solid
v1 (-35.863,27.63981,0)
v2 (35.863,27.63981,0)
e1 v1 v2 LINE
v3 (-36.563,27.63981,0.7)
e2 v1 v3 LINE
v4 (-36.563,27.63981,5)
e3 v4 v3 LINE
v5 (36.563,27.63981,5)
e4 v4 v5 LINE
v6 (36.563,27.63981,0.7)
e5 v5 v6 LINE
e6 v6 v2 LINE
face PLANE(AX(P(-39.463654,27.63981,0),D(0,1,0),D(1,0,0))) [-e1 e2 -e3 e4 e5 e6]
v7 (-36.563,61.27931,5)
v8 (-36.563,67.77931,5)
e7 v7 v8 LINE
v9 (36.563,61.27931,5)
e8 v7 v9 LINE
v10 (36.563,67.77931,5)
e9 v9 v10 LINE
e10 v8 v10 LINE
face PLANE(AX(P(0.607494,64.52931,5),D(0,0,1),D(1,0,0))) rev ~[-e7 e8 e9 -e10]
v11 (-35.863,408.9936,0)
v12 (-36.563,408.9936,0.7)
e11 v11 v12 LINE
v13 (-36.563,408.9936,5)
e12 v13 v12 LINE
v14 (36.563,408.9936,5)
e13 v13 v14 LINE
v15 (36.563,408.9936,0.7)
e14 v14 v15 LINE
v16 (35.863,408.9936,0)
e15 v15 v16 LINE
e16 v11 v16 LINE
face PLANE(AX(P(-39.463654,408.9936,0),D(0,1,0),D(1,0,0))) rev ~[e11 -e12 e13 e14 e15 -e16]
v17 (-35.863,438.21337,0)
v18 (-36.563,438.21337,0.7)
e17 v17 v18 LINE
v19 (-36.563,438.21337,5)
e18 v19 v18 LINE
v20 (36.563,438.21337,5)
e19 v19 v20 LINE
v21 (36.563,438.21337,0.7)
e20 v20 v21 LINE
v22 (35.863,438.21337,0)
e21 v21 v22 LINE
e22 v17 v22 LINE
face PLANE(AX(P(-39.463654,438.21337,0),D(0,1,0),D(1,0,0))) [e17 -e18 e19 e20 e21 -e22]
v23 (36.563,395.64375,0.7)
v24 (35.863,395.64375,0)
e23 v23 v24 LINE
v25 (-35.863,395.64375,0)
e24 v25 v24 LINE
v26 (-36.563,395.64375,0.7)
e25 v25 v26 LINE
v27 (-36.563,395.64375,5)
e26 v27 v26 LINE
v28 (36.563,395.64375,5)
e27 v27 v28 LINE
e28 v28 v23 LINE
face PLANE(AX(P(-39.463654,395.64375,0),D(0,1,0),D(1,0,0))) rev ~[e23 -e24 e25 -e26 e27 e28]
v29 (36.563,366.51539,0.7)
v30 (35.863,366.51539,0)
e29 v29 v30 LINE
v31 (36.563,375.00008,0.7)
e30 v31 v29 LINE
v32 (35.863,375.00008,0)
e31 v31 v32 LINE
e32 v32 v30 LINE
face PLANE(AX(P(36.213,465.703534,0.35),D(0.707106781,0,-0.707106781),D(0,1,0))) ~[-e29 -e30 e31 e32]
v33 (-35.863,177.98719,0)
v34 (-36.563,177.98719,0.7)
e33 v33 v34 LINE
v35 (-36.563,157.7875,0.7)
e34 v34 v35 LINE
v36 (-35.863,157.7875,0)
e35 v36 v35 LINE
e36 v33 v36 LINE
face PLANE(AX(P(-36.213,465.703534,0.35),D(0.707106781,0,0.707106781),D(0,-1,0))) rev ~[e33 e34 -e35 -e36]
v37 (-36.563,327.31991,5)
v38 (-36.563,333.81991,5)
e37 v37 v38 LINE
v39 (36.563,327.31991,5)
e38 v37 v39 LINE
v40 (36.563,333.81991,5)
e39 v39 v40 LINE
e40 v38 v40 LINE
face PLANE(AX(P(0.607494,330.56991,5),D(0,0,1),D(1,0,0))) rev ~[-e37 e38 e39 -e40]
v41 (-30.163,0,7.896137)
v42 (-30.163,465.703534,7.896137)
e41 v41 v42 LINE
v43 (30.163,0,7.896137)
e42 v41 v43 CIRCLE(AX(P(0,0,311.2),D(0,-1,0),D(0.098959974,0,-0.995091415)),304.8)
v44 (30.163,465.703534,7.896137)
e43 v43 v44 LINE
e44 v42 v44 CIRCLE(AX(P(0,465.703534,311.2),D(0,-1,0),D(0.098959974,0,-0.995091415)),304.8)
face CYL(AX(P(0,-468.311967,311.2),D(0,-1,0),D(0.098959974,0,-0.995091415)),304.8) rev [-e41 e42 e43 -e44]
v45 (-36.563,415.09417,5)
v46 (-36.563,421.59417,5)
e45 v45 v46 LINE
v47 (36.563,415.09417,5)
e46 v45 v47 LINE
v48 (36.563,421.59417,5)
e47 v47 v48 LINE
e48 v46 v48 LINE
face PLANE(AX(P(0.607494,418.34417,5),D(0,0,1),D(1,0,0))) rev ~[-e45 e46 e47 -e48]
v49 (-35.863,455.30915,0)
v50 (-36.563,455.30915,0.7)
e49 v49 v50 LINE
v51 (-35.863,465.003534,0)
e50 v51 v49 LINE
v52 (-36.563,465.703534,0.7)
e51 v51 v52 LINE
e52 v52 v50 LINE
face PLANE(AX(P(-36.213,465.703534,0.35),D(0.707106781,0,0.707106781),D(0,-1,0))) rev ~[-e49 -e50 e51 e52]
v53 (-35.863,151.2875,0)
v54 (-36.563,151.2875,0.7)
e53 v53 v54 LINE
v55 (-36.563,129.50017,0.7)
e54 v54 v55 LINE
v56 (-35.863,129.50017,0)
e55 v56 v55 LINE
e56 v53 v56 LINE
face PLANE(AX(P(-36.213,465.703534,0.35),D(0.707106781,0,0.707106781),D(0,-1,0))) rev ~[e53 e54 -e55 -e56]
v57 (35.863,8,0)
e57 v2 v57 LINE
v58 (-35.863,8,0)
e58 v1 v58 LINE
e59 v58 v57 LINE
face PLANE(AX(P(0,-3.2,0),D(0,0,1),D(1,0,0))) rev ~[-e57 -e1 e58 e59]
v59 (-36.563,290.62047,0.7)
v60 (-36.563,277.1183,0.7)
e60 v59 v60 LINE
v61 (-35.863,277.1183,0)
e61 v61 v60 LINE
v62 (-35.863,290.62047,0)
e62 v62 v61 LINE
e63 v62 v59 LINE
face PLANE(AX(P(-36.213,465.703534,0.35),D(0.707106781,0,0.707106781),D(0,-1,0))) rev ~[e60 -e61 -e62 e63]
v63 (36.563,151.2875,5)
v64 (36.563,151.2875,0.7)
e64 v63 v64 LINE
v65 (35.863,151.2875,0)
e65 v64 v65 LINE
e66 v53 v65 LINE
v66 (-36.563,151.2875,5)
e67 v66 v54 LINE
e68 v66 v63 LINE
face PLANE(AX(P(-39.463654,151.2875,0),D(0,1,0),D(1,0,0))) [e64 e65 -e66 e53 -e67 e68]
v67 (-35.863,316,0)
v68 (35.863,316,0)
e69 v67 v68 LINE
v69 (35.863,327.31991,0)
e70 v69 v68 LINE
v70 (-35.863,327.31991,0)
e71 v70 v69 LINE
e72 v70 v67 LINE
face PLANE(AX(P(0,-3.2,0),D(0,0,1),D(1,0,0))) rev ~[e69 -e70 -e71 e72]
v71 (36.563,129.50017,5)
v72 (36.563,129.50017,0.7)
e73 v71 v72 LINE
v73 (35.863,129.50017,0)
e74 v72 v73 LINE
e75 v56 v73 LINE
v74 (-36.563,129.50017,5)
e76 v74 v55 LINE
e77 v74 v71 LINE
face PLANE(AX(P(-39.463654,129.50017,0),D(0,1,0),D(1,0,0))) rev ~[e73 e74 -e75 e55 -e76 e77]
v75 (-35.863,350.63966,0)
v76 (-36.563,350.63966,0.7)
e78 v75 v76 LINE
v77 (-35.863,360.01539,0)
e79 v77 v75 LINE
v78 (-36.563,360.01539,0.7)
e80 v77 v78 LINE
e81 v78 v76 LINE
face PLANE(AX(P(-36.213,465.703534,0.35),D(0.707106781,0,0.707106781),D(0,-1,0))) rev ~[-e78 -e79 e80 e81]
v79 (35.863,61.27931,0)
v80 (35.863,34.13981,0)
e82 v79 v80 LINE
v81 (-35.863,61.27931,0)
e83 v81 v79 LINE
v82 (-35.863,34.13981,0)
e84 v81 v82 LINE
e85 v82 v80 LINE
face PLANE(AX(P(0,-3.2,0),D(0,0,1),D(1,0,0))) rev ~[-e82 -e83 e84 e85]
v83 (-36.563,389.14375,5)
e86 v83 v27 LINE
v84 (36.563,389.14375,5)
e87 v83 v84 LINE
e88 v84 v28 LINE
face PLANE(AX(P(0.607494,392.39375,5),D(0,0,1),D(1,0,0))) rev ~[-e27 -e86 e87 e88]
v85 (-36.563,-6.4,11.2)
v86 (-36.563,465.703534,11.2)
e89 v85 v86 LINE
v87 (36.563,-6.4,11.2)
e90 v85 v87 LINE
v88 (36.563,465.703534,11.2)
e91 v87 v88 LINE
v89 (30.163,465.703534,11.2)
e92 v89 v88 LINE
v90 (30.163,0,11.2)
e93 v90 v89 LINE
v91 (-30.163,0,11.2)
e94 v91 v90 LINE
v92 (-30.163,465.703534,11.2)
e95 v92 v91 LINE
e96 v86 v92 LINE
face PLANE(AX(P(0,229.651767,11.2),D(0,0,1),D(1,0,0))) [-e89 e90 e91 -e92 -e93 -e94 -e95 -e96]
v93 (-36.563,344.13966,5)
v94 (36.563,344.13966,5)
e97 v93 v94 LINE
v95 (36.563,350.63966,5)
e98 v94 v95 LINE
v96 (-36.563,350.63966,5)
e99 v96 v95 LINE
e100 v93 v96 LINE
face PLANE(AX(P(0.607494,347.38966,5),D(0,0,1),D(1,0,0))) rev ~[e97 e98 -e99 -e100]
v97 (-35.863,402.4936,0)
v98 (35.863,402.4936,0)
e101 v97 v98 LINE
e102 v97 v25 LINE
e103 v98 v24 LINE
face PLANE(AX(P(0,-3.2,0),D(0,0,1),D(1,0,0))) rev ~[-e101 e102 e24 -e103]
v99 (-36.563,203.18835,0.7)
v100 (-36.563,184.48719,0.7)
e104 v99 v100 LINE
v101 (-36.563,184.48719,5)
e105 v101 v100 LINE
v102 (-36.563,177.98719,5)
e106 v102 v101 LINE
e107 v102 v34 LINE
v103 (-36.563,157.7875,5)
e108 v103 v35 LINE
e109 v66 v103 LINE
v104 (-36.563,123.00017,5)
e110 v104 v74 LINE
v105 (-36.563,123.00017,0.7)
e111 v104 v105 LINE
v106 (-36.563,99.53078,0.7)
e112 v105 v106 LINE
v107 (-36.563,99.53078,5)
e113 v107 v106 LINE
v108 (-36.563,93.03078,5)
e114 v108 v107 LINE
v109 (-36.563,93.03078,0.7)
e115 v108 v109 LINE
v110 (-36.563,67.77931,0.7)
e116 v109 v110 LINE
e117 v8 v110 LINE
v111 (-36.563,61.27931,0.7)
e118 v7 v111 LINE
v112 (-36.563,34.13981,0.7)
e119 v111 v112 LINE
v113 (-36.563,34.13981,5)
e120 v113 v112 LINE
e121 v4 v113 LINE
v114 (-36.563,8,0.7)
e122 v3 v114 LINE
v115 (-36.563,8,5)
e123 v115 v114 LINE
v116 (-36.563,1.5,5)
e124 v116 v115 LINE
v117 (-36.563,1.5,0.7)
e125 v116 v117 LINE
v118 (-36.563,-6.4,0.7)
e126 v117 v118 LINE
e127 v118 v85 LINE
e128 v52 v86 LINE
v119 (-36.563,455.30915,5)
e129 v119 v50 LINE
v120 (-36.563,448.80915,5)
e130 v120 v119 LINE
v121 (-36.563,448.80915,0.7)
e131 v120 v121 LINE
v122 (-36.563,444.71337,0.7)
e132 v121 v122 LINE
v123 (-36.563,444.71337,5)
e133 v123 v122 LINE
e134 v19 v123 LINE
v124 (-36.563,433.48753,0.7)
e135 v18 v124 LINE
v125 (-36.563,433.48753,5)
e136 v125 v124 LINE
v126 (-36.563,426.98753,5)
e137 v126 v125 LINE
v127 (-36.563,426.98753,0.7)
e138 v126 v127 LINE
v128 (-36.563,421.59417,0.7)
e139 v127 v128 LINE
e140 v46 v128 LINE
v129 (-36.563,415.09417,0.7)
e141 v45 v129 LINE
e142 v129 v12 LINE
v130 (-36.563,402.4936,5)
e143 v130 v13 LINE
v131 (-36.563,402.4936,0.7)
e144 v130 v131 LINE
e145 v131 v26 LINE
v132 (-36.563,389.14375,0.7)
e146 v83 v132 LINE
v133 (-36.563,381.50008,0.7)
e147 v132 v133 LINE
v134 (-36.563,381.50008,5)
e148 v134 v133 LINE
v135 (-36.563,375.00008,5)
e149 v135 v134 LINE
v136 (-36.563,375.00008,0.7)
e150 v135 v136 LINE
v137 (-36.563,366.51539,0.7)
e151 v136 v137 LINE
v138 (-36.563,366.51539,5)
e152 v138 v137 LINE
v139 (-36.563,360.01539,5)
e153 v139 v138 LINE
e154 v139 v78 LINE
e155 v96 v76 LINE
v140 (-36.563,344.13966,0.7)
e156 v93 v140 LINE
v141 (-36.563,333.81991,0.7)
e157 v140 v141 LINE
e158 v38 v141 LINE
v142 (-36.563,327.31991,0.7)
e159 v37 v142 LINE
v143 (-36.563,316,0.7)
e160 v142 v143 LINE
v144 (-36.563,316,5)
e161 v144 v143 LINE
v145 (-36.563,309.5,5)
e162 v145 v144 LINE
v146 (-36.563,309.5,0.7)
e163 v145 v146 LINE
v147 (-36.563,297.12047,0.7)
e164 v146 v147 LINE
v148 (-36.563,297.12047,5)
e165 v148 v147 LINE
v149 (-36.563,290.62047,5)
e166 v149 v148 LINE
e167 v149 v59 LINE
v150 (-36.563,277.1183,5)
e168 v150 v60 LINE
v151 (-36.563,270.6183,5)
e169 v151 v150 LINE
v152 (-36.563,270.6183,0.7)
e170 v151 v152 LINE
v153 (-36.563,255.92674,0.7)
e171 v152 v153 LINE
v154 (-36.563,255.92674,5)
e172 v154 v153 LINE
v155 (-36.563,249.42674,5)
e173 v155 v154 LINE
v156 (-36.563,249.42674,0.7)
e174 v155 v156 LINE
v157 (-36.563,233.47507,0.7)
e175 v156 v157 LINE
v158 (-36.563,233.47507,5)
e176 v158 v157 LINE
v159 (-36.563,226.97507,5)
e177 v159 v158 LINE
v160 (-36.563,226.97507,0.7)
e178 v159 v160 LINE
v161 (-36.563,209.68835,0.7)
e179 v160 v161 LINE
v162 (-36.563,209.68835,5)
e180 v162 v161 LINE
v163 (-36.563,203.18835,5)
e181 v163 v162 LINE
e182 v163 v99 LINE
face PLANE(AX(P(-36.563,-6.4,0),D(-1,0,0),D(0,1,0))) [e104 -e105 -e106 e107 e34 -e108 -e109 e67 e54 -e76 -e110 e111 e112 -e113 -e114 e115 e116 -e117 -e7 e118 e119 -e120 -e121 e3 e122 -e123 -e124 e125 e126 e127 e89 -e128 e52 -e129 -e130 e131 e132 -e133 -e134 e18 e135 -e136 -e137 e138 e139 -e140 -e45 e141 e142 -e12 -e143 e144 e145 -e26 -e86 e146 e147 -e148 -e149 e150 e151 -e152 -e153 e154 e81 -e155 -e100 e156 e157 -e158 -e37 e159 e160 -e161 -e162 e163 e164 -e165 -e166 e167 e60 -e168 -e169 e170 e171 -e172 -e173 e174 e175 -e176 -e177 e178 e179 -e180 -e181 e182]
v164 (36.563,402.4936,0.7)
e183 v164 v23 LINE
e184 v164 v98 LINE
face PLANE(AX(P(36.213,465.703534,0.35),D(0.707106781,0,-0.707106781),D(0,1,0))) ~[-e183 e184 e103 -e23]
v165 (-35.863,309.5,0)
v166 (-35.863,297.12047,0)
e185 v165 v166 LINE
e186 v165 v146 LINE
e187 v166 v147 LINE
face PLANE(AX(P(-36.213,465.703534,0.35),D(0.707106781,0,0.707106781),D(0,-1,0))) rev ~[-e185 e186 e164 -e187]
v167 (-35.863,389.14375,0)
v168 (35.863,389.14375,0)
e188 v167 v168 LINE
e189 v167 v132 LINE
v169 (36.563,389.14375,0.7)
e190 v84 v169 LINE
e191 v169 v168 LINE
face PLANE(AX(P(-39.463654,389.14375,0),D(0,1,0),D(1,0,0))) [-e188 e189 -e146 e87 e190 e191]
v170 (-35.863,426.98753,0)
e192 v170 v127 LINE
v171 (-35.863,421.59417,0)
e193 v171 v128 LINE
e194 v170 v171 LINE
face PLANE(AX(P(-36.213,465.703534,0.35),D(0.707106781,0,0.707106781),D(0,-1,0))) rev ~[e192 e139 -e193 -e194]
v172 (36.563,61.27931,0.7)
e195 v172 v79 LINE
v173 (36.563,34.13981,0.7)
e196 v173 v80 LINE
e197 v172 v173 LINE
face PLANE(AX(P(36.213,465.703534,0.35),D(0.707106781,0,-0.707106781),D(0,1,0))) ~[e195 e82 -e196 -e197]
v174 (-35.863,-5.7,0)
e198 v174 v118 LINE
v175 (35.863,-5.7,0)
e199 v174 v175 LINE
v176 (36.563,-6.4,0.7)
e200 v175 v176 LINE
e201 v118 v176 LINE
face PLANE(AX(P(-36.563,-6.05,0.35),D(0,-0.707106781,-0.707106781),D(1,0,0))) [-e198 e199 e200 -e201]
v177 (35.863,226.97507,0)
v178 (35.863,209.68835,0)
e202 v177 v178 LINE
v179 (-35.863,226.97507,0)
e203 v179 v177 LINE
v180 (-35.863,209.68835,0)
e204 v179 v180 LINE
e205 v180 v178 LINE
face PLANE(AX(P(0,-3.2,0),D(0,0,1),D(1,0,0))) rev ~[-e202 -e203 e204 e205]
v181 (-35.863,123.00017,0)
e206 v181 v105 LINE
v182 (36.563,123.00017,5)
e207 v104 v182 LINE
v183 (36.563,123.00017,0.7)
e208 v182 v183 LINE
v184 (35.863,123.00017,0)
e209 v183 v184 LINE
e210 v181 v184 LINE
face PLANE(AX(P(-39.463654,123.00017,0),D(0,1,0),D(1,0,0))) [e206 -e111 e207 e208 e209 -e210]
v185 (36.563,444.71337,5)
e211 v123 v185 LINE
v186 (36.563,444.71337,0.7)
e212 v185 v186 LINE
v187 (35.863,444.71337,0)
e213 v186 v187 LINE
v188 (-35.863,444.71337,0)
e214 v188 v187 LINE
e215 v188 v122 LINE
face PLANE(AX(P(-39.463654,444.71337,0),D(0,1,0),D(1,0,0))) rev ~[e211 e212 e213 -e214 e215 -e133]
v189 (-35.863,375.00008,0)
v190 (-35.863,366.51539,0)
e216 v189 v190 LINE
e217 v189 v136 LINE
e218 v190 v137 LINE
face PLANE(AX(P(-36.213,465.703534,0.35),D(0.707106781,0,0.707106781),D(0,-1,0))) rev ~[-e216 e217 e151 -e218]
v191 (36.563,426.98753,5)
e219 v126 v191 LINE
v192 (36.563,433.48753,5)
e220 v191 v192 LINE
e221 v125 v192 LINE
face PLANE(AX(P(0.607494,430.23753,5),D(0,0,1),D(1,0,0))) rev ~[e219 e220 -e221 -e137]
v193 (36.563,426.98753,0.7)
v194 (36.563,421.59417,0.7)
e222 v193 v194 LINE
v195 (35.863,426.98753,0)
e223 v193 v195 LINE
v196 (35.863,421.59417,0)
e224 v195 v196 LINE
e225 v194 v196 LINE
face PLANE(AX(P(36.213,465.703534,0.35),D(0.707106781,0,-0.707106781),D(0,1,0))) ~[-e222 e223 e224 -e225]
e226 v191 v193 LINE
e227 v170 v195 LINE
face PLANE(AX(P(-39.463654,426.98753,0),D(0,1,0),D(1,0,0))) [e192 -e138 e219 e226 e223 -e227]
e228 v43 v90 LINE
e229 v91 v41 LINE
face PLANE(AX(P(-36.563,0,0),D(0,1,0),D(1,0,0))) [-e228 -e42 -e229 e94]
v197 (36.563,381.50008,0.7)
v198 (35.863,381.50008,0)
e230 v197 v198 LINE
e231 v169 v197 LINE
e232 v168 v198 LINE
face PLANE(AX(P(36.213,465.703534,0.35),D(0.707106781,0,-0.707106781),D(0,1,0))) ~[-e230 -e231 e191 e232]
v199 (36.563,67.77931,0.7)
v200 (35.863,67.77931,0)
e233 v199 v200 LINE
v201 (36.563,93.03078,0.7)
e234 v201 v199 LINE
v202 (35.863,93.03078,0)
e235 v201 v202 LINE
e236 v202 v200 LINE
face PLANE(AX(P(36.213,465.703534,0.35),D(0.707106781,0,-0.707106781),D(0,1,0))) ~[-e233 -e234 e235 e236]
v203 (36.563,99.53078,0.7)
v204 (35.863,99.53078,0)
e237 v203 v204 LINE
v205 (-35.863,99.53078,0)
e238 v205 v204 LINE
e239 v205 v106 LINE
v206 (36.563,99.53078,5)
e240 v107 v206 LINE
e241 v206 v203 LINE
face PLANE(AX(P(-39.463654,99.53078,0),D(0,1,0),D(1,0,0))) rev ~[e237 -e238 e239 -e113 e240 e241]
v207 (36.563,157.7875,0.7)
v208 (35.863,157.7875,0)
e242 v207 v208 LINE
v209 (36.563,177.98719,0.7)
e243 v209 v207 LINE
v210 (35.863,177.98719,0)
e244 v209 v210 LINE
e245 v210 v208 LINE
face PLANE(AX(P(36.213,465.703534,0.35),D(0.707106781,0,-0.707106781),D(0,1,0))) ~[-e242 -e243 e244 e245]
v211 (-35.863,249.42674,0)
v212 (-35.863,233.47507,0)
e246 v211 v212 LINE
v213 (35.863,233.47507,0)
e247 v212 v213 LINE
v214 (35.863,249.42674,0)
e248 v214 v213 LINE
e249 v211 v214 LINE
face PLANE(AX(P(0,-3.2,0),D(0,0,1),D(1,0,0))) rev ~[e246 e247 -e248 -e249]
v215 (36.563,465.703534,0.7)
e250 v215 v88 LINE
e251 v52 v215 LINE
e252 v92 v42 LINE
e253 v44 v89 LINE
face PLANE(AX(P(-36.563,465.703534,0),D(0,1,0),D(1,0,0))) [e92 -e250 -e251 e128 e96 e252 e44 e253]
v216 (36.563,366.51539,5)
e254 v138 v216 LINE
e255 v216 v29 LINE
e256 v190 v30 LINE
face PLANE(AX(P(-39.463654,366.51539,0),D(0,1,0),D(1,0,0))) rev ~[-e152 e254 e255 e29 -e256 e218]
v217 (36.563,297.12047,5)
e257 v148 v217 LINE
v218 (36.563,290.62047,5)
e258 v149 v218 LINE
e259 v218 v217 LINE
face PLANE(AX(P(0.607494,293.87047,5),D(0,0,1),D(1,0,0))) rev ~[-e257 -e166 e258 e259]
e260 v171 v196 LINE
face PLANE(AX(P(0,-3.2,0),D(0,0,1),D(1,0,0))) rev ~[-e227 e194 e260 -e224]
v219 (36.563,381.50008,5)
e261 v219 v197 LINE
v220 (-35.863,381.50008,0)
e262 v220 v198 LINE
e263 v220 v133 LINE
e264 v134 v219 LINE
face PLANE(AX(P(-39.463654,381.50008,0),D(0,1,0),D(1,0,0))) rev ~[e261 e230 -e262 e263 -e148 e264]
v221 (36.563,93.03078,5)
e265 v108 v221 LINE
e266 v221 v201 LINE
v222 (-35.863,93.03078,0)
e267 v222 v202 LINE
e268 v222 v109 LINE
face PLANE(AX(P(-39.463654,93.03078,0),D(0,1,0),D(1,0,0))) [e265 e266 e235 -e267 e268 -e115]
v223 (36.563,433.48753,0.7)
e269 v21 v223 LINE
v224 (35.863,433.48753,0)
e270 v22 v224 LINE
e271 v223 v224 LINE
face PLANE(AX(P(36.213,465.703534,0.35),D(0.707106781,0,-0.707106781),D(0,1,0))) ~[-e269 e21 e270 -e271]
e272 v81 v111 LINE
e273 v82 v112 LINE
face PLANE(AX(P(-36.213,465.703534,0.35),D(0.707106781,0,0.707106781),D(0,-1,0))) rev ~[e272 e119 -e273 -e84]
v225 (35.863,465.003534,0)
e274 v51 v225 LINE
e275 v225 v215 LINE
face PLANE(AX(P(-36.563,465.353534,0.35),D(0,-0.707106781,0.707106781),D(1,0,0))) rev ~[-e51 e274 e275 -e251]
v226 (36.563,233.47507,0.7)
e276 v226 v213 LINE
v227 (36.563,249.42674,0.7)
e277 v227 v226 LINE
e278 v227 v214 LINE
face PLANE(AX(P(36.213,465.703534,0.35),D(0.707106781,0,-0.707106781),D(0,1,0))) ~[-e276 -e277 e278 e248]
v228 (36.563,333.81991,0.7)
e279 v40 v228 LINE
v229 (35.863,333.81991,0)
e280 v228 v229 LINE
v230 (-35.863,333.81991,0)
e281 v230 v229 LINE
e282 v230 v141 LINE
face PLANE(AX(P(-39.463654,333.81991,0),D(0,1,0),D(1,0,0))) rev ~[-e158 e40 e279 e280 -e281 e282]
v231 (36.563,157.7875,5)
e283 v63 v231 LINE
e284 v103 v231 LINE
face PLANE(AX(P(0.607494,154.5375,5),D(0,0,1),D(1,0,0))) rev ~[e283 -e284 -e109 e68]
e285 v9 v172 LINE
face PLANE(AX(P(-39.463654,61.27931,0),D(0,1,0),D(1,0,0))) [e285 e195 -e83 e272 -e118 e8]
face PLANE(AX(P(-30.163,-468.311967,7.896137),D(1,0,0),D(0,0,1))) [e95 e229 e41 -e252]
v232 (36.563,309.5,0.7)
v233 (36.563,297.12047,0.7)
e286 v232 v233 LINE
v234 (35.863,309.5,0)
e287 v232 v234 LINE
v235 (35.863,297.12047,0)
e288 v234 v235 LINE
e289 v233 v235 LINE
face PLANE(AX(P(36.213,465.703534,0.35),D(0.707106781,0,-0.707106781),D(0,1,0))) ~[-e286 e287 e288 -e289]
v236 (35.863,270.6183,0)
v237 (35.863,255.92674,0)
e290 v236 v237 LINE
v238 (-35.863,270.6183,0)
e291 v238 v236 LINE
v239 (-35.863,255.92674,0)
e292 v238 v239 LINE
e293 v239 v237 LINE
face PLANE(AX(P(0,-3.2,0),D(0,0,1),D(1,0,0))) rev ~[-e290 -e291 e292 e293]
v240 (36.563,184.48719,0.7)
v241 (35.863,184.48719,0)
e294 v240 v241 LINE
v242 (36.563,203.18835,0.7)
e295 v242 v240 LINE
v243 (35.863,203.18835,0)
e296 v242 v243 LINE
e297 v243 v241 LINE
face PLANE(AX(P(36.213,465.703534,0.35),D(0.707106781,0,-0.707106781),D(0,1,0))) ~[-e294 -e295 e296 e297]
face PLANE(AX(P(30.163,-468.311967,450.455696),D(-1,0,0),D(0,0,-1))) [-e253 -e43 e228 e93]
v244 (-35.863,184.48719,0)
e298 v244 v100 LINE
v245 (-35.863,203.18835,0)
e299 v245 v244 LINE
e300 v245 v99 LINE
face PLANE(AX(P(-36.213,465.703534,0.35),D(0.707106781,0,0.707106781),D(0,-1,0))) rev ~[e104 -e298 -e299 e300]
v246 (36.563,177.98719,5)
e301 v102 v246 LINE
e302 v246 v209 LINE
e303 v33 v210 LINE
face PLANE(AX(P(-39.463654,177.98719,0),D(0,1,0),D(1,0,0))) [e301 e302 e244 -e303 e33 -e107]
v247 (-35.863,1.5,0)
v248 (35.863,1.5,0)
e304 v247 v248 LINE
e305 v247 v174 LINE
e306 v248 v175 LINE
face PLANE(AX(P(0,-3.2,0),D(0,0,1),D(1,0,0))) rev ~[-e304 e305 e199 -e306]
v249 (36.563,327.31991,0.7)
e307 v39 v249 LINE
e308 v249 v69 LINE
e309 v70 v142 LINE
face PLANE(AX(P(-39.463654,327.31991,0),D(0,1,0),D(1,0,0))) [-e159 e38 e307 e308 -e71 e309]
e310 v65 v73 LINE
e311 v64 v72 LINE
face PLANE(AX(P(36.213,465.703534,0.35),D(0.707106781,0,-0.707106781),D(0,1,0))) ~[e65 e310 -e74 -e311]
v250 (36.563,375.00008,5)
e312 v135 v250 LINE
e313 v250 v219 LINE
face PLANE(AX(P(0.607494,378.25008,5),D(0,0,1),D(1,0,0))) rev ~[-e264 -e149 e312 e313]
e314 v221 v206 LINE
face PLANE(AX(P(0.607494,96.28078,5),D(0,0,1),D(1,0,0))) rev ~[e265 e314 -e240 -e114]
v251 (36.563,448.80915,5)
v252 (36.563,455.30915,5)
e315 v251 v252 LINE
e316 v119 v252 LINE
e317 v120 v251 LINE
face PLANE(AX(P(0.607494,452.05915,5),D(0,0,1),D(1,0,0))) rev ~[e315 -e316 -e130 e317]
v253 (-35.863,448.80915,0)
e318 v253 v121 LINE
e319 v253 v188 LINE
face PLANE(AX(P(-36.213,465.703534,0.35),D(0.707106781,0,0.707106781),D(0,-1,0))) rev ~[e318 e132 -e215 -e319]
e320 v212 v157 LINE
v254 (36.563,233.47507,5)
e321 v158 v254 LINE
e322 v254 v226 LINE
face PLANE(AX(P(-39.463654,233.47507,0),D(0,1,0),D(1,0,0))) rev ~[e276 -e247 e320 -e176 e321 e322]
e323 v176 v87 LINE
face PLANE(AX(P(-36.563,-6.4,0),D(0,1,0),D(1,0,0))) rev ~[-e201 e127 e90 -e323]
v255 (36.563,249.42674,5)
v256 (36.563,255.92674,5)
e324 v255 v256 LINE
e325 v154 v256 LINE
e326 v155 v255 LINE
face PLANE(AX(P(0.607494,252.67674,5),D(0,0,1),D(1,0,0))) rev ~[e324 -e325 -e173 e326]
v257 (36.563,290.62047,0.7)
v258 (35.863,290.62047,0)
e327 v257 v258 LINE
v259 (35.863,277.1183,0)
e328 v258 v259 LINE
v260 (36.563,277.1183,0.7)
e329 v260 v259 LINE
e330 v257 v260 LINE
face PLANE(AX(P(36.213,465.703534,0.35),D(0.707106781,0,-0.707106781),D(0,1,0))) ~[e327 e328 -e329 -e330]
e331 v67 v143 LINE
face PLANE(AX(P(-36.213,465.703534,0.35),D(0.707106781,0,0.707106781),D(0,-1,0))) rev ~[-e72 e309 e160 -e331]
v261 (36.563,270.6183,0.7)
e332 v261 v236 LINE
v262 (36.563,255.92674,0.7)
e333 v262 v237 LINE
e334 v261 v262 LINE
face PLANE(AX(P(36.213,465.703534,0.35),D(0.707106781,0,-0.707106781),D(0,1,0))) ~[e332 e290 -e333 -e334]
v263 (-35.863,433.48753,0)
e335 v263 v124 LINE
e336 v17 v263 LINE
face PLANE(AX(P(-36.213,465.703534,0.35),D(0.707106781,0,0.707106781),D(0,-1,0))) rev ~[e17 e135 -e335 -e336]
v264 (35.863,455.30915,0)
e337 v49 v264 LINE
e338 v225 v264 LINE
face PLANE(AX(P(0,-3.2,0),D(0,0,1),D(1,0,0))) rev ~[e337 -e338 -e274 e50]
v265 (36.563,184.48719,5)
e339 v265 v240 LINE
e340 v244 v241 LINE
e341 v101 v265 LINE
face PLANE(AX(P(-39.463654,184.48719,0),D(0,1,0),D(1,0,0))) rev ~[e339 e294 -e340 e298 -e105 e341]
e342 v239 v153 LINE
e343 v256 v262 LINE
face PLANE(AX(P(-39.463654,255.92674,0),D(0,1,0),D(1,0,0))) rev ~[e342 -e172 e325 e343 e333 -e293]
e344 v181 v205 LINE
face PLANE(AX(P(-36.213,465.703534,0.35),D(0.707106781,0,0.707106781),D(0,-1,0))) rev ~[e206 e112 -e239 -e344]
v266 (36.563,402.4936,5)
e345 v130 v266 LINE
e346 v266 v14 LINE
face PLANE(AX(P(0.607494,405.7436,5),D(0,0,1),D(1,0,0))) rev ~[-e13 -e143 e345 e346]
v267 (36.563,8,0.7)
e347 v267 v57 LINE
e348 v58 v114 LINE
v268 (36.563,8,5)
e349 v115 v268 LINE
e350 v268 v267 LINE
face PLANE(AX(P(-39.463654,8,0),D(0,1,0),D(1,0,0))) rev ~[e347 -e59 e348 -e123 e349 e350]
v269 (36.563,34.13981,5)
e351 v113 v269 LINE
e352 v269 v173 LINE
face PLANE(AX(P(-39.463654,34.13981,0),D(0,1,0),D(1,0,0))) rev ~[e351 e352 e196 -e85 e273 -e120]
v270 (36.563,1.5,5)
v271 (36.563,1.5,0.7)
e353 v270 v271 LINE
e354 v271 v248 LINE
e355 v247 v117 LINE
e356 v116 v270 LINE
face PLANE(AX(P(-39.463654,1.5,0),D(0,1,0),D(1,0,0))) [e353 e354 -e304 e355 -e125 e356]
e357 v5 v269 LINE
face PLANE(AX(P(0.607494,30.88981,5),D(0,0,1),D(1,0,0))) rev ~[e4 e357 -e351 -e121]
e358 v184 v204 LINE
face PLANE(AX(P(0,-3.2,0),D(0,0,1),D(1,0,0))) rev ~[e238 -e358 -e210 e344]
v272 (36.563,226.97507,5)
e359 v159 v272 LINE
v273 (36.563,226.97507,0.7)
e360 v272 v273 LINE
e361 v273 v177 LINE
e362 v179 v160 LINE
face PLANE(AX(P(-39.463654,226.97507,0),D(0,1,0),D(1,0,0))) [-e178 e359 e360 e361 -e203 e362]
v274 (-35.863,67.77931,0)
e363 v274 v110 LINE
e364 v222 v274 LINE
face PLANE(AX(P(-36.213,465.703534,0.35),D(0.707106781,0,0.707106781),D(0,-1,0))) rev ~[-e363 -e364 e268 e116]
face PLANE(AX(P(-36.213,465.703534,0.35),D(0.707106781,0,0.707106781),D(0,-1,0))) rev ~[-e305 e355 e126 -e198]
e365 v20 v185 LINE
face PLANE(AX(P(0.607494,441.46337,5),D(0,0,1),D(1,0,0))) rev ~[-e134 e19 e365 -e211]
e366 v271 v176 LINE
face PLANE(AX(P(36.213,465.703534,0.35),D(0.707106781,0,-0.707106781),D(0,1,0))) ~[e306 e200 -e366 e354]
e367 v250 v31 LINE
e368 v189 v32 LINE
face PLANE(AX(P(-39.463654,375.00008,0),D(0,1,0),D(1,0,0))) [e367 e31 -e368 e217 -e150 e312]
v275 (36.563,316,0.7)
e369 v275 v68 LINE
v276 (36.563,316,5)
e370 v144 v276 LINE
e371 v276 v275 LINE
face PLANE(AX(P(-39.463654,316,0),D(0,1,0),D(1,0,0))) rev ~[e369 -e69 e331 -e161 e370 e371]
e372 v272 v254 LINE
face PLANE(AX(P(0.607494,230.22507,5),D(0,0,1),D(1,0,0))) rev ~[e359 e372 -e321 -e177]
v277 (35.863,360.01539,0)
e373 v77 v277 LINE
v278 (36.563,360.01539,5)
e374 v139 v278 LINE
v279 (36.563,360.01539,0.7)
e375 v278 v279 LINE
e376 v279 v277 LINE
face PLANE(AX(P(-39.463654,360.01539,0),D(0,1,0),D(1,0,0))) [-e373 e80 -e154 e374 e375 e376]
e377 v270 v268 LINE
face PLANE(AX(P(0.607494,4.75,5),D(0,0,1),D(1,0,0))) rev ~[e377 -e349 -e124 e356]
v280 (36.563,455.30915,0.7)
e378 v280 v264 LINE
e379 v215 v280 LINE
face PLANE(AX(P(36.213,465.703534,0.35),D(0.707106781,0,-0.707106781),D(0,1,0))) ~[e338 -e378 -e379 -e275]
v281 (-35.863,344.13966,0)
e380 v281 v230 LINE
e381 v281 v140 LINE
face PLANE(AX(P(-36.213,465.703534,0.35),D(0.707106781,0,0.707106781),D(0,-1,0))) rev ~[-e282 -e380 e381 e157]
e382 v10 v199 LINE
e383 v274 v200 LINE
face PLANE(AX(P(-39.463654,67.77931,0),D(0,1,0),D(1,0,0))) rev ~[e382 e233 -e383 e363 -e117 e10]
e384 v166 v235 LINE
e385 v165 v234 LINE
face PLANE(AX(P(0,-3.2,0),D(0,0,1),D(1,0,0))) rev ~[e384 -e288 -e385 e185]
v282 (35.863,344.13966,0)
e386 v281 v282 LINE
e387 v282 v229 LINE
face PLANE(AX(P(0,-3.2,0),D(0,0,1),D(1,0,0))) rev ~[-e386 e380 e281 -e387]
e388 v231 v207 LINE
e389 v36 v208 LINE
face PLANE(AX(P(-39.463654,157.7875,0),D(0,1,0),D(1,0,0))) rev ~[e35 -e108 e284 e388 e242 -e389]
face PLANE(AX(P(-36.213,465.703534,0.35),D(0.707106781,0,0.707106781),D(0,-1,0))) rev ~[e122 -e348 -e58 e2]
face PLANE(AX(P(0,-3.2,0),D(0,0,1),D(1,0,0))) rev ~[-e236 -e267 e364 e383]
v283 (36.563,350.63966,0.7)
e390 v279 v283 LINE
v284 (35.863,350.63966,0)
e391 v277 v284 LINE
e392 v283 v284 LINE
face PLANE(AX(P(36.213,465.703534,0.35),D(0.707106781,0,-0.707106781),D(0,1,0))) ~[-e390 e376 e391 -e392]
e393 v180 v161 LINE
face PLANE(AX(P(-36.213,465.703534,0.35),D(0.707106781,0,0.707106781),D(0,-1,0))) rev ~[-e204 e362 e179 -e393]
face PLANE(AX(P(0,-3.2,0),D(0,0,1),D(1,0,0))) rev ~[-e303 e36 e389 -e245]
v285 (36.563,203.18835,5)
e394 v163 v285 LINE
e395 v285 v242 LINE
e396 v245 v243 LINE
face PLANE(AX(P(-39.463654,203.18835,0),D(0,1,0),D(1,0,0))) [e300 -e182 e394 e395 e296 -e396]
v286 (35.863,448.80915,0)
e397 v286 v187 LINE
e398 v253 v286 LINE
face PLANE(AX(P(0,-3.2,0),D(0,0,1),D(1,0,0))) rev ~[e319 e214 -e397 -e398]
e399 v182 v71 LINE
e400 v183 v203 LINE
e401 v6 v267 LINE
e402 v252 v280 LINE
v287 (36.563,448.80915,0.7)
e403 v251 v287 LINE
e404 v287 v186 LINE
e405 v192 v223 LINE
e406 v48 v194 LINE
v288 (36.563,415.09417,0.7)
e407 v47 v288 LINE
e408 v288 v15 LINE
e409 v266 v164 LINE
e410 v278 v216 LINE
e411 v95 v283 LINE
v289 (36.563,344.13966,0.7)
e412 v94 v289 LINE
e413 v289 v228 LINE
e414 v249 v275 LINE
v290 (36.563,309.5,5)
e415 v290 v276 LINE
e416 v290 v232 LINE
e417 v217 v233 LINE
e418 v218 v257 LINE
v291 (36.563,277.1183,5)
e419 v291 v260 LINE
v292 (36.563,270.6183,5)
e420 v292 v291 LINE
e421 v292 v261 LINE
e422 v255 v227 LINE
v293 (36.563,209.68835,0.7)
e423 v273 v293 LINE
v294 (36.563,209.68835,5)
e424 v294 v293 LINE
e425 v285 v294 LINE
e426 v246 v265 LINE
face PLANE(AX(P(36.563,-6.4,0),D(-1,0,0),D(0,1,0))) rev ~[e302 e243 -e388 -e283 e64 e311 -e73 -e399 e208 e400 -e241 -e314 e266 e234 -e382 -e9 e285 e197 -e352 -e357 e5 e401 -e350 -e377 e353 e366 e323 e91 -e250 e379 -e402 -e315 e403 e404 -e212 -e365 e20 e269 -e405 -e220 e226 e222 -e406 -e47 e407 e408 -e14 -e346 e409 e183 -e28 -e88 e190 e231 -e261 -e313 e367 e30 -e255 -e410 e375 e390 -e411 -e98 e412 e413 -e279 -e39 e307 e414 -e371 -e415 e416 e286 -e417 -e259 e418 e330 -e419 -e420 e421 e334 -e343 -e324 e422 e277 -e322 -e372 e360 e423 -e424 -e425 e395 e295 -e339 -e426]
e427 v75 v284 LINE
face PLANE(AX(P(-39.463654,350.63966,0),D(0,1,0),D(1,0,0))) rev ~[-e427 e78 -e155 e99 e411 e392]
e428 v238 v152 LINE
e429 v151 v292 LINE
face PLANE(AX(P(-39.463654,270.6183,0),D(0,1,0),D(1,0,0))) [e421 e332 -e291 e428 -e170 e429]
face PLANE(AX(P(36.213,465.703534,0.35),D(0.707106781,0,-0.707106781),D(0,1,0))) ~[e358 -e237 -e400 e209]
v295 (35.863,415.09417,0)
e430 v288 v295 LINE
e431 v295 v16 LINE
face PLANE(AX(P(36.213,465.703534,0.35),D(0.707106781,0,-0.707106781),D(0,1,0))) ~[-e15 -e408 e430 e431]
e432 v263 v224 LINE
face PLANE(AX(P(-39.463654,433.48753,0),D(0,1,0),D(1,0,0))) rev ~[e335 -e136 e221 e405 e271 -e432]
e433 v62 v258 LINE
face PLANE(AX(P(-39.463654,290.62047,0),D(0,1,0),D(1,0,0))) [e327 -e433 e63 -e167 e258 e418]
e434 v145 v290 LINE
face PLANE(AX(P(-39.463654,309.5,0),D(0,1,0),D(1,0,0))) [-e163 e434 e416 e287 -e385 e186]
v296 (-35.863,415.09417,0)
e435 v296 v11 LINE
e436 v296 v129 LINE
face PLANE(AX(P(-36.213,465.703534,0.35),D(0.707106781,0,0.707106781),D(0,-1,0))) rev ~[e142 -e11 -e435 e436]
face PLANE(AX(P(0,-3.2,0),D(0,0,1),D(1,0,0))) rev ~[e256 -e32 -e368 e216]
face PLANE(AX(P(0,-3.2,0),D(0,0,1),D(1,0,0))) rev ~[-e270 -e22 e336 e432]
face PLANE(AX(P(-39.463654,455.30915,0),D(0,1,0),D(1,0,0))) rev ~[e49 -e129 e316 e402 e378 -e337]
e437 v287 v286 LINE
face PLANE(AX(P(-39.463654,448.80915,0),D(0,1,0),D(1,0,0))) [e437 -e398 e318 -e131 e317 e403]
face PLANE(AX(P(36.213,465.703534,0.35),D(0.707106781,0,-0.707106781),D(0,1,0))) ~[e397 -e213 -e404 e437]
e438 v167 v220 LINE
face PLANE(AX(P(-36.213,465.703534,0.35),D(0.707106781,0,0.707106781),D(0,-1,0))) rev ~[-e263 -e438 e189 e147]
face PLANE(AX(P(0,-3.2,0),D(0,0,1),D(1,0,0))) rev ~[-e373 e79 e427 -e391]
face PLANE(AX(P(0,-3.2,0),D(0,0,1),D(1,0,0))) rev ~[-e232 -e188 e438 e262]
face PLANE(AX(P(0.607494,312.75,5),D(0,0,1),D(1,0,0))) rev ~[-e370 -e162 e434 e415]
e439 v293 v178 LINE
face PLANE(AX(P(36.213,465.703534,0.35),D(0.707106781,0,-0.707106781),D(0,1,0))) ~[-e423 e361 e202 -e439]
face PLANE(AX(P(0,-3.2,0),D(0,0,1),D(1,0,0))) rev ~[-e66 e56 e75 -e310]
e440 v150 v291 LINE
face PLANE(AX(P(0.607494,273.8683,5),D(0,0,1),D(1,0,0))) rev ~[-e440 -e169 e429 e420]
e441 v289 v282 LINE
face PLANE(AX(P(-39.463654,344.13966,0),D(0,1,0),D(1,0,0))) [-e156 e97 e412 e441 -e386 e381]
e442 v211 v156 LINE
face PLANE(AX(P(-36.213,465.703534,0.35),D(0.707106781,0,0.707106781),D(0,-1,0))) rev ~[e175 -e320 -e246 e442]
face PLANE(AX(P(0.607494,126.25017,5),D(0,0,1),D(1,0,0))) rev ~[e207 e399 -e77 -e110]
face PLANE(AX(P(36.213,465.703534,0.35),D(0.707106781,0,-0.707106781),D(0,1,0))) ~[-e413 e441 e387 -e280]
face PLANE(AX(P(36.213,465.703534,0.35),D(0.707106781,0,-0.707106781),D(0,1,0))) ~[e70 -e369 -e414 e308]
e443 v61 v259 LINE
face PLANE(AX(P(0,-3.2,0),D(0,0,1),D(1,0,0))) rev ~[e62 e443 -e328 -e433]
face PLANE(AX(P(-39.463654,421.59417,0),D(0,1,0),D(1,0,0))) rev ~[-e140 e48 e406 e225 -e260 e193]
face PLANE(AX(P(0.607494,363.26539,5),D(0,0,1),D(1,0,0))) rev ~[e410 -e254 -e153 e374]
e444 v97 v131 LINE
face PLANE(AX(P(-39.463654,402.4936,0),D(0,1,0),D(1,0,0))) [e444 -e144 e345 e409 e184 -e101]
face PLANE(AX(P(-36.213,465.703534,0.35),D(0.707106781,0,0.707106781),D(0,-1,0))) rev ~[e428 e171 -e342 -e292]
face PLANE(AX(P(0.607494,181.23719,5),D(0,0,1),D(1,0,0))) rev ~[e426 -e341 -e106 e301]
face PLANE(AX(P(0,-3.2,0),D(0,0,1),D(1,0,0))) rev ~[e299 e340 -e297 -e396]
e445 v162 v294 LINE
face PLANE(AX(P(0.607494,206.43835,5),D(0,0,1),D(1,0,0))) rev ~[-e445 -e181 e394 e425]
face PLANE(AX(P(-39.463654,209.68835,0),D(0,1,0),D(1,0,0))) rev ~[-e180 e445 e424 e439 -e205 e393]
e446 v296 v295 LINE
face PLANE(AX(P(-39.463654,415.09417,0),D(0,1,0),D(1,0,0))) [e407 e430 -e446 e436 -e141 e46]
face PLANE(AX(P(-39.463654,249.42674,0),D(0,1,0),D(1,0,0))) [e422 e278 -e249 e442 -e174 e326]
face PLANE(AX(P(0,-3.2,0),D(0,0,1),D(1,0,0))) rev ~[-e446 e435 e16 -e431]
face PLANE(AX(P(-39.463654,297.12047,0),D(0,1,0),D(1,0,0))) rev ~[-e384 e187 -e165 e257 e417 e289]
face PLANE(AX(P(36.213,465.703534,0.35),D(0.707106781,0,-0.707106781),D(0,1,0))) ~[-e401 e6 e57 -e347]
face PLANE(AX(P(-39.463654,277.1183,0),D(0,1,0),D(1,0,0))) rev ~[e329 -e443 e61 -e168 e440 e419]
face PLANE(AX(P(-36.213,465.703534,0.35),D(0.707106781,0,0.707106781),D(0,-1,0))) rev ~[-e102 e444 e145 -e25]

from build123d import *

# Parameters (mm, degrees)
SKETCH2_W               = 73.126
SKETCH2_H               = 465.703533893
BOSS_EXTRUDE1_DEPTH     = 12.8
CUT_EXTRUDE3_DEPTH      = 468.311966945
CUT_EXTRUDE3_DEPTH_BACK = 468.311966945
SKETCH4_W               = 73.126
SKETCH4_H               = 6.4
BOSS_EXTRUDE3_DEPTH     = 12.8
CHAMFER5_SIZE           = 0.7
SKETCH1_W               = 80.142296905
SKETCH1_H               = 6.5
CUT_EXTRUDE4_DEPTH      = 5
SKETCH7_W               = 73.126
SKETCH7_H               = 472.103533893
CUT_EXTRUDE7_DEPTH      = 1.6


with BuildPart() as part:
    # Sketch2 → Boss-Extrude1 (new body)
    with BuildSketch(Plane.XY):
        with Locations((0, 232.851766947)):
            Rectangle(SKETCH2_W, SKETCH2_H)
    extrude(amount=BOSS_EXTRUDE1_DEPTH)

    # Sketch3 → Cut-Extrude3 (cut, two sides: drawn at the far end of the back side and taken through both)
    with BuildSketch(Plane(origin=(0, 0, 0), x_dir=(1, 0, 0), z_dir=(0, 1, 0)).offset(-CUT_EXTRUDE3_DEPTH_BACK)):
        with BuildLine():
            Line((30.163, -158.685232104), (30.163, -12.8))
            Line((30.163, -12.8), (30.163, -7.896136802))
            ThreePointArc((30.163, -7.896136802), (0, -6.4), (-30.163, -7.896136802))
            Line((-30.163, -7.896136802), (-30.163, -12.8))
            Line((-30.163, -12.8), (-30.163, -158.685232104))
            Line((-30.163, -158.685232104), (-30.163, -450.455696312))
            Line((-30.163, -450.455696312), (30.163, -450.455696312))
            Line((30.163, -450.455696312), (30.163, -158.685232104))
        make_face()
    extrude(amount=CUT_EXTRUDE3_DEPTH + CUT_EXTRUDE3_DEPTH_BACK, mode=Mode.SUBTRACT)

    # Sketch4 → Boss-Extrude3 (add)
    with BuildSketch(Plane.XY):
        with Locations((0, -3.2)):
            Rectangle(SKETCH4_W, SKETCH4_H)
    extrude(amount=BOSS_EXTRUDE3_DEPTH)

    # Chamfer5
    chamfer5_edges = [part.edges().sort_by_distance(p)[0] for p in [
        (0, -6.4, 0),
        (0, 465.703533893, 0),
        (36.563, 229.651766947, 0),
        (-36.563, 229.651766947, 0),
    ]]
    chamfer(chamfer5_edges, length=CHAMFER5_SIZE)

    # Sketch1 → Cut-Extrude4 (cut)
    with BuildSketch(Plane.XY):
        with Locations((0.607494054, 452.05915)):
            Rectangle(SKETCH1_W, SKETCH1_H)
        with Locations((0.607494054, 441.46337)):
            Rectangle(SKETCH1_W, SKETCH1_H)
        with Locations((0.607494054, 64.52931)):
            Rectangle(SKETCH1_W, SKETCH1_H)
        with Locations((0.607494054, 96.28078)):
            Rectangle(SKETCH1_W, SKETCH1_H)
        with Locations((0.607494054, 363.26539)):
            Rectangle(SKETCH1_W, SKETCH1_H)
        with Locations((0.607494054, 154.5375)):
            Rectangle(SKETCH1_W, SKETCH1_H)
        with Locations((0.607494054, 206.43835)):
            Rectangle(SKETCH1_W, SKETCH1_H)
        with Locations((0.607494054, 252.67674)):
            Rectangle(SKETCH1_W, SKETCH1_H)
        with Locations((0.607494054, 293.87047)):
            Rectangle(SKETCH1_W, SKETCH1_H)
        with Locations((0.607494054, 330.56991)):
            Rectangle(SKETCH1_W, SKETCH1_H)
        with Locations((0.607494054, 378.25008)):
            Rectangle(SKETCH1_W, SKETCH1_H)
        with Locations((0.607494054, 405.7436)):
            Rectangle(SKETCH1_W, SKETCH1_H)
        with Locations((0.607494054, 30.88981)):
            Rectangle(SKETCH1_W, SKETCH1_H)
        with Locations((0.607494054, 430.23753)):
            Rectangle(SKETCH1_W, SKETCH1_H)
        with Locations((0.607494054, 418.34417)):
            Rectangle(SKETCH1_W, SKETCH1_H)
        with Locations((0.607494054, 392.39375)):
            Rectangle(SKETCH1_W, SKETCH1_H)
        with Locations((0.607494054, 126.25017)):
            Rectangle(SKETCH1_W, SKETCH1_H)
        with Locations((0.607494054, 347.38966)):
            Rectangle(SKETCH1_W, SKETCH1_H)
        with Locations((0.607494054, 181.23719)):
            Rectangle(SKETCH1_W, SKETCH1_H)
        with Locations((0.607494054, 312.75)):
            Rectangle(SKETCH1_W, SKETCH1_H)
        with Locations((0.607494054, 230.22507)):
            Rectangle(SKETCH1_W, SKETCH1_H)
        with Locations((0.607494054, 273.8683)):
            Rectangle(SKETCH1_W, SKETCH1_H)
        with Locations((0.607494054, 4.75)):
            Rectangle(SKETCH1_W, SKETCH1_H)
    extrude(amount=CUT_EXTRUDE4_DEPTH, mode=Mode.SUBTRACT)

    # Sketch7 → Cut-Extrude7 (cut)
    with BuildSketch(Plane.XY.offset(12.8)):
        with Locations((0, 229.651766947)):
            Rectangle(SKETCH7_W, SKETCH7_H)
    extrude(amount=-CUT_EXTRUDE7_DEPTH, mode=Mode.SUBTRACT)


solid = part.part
